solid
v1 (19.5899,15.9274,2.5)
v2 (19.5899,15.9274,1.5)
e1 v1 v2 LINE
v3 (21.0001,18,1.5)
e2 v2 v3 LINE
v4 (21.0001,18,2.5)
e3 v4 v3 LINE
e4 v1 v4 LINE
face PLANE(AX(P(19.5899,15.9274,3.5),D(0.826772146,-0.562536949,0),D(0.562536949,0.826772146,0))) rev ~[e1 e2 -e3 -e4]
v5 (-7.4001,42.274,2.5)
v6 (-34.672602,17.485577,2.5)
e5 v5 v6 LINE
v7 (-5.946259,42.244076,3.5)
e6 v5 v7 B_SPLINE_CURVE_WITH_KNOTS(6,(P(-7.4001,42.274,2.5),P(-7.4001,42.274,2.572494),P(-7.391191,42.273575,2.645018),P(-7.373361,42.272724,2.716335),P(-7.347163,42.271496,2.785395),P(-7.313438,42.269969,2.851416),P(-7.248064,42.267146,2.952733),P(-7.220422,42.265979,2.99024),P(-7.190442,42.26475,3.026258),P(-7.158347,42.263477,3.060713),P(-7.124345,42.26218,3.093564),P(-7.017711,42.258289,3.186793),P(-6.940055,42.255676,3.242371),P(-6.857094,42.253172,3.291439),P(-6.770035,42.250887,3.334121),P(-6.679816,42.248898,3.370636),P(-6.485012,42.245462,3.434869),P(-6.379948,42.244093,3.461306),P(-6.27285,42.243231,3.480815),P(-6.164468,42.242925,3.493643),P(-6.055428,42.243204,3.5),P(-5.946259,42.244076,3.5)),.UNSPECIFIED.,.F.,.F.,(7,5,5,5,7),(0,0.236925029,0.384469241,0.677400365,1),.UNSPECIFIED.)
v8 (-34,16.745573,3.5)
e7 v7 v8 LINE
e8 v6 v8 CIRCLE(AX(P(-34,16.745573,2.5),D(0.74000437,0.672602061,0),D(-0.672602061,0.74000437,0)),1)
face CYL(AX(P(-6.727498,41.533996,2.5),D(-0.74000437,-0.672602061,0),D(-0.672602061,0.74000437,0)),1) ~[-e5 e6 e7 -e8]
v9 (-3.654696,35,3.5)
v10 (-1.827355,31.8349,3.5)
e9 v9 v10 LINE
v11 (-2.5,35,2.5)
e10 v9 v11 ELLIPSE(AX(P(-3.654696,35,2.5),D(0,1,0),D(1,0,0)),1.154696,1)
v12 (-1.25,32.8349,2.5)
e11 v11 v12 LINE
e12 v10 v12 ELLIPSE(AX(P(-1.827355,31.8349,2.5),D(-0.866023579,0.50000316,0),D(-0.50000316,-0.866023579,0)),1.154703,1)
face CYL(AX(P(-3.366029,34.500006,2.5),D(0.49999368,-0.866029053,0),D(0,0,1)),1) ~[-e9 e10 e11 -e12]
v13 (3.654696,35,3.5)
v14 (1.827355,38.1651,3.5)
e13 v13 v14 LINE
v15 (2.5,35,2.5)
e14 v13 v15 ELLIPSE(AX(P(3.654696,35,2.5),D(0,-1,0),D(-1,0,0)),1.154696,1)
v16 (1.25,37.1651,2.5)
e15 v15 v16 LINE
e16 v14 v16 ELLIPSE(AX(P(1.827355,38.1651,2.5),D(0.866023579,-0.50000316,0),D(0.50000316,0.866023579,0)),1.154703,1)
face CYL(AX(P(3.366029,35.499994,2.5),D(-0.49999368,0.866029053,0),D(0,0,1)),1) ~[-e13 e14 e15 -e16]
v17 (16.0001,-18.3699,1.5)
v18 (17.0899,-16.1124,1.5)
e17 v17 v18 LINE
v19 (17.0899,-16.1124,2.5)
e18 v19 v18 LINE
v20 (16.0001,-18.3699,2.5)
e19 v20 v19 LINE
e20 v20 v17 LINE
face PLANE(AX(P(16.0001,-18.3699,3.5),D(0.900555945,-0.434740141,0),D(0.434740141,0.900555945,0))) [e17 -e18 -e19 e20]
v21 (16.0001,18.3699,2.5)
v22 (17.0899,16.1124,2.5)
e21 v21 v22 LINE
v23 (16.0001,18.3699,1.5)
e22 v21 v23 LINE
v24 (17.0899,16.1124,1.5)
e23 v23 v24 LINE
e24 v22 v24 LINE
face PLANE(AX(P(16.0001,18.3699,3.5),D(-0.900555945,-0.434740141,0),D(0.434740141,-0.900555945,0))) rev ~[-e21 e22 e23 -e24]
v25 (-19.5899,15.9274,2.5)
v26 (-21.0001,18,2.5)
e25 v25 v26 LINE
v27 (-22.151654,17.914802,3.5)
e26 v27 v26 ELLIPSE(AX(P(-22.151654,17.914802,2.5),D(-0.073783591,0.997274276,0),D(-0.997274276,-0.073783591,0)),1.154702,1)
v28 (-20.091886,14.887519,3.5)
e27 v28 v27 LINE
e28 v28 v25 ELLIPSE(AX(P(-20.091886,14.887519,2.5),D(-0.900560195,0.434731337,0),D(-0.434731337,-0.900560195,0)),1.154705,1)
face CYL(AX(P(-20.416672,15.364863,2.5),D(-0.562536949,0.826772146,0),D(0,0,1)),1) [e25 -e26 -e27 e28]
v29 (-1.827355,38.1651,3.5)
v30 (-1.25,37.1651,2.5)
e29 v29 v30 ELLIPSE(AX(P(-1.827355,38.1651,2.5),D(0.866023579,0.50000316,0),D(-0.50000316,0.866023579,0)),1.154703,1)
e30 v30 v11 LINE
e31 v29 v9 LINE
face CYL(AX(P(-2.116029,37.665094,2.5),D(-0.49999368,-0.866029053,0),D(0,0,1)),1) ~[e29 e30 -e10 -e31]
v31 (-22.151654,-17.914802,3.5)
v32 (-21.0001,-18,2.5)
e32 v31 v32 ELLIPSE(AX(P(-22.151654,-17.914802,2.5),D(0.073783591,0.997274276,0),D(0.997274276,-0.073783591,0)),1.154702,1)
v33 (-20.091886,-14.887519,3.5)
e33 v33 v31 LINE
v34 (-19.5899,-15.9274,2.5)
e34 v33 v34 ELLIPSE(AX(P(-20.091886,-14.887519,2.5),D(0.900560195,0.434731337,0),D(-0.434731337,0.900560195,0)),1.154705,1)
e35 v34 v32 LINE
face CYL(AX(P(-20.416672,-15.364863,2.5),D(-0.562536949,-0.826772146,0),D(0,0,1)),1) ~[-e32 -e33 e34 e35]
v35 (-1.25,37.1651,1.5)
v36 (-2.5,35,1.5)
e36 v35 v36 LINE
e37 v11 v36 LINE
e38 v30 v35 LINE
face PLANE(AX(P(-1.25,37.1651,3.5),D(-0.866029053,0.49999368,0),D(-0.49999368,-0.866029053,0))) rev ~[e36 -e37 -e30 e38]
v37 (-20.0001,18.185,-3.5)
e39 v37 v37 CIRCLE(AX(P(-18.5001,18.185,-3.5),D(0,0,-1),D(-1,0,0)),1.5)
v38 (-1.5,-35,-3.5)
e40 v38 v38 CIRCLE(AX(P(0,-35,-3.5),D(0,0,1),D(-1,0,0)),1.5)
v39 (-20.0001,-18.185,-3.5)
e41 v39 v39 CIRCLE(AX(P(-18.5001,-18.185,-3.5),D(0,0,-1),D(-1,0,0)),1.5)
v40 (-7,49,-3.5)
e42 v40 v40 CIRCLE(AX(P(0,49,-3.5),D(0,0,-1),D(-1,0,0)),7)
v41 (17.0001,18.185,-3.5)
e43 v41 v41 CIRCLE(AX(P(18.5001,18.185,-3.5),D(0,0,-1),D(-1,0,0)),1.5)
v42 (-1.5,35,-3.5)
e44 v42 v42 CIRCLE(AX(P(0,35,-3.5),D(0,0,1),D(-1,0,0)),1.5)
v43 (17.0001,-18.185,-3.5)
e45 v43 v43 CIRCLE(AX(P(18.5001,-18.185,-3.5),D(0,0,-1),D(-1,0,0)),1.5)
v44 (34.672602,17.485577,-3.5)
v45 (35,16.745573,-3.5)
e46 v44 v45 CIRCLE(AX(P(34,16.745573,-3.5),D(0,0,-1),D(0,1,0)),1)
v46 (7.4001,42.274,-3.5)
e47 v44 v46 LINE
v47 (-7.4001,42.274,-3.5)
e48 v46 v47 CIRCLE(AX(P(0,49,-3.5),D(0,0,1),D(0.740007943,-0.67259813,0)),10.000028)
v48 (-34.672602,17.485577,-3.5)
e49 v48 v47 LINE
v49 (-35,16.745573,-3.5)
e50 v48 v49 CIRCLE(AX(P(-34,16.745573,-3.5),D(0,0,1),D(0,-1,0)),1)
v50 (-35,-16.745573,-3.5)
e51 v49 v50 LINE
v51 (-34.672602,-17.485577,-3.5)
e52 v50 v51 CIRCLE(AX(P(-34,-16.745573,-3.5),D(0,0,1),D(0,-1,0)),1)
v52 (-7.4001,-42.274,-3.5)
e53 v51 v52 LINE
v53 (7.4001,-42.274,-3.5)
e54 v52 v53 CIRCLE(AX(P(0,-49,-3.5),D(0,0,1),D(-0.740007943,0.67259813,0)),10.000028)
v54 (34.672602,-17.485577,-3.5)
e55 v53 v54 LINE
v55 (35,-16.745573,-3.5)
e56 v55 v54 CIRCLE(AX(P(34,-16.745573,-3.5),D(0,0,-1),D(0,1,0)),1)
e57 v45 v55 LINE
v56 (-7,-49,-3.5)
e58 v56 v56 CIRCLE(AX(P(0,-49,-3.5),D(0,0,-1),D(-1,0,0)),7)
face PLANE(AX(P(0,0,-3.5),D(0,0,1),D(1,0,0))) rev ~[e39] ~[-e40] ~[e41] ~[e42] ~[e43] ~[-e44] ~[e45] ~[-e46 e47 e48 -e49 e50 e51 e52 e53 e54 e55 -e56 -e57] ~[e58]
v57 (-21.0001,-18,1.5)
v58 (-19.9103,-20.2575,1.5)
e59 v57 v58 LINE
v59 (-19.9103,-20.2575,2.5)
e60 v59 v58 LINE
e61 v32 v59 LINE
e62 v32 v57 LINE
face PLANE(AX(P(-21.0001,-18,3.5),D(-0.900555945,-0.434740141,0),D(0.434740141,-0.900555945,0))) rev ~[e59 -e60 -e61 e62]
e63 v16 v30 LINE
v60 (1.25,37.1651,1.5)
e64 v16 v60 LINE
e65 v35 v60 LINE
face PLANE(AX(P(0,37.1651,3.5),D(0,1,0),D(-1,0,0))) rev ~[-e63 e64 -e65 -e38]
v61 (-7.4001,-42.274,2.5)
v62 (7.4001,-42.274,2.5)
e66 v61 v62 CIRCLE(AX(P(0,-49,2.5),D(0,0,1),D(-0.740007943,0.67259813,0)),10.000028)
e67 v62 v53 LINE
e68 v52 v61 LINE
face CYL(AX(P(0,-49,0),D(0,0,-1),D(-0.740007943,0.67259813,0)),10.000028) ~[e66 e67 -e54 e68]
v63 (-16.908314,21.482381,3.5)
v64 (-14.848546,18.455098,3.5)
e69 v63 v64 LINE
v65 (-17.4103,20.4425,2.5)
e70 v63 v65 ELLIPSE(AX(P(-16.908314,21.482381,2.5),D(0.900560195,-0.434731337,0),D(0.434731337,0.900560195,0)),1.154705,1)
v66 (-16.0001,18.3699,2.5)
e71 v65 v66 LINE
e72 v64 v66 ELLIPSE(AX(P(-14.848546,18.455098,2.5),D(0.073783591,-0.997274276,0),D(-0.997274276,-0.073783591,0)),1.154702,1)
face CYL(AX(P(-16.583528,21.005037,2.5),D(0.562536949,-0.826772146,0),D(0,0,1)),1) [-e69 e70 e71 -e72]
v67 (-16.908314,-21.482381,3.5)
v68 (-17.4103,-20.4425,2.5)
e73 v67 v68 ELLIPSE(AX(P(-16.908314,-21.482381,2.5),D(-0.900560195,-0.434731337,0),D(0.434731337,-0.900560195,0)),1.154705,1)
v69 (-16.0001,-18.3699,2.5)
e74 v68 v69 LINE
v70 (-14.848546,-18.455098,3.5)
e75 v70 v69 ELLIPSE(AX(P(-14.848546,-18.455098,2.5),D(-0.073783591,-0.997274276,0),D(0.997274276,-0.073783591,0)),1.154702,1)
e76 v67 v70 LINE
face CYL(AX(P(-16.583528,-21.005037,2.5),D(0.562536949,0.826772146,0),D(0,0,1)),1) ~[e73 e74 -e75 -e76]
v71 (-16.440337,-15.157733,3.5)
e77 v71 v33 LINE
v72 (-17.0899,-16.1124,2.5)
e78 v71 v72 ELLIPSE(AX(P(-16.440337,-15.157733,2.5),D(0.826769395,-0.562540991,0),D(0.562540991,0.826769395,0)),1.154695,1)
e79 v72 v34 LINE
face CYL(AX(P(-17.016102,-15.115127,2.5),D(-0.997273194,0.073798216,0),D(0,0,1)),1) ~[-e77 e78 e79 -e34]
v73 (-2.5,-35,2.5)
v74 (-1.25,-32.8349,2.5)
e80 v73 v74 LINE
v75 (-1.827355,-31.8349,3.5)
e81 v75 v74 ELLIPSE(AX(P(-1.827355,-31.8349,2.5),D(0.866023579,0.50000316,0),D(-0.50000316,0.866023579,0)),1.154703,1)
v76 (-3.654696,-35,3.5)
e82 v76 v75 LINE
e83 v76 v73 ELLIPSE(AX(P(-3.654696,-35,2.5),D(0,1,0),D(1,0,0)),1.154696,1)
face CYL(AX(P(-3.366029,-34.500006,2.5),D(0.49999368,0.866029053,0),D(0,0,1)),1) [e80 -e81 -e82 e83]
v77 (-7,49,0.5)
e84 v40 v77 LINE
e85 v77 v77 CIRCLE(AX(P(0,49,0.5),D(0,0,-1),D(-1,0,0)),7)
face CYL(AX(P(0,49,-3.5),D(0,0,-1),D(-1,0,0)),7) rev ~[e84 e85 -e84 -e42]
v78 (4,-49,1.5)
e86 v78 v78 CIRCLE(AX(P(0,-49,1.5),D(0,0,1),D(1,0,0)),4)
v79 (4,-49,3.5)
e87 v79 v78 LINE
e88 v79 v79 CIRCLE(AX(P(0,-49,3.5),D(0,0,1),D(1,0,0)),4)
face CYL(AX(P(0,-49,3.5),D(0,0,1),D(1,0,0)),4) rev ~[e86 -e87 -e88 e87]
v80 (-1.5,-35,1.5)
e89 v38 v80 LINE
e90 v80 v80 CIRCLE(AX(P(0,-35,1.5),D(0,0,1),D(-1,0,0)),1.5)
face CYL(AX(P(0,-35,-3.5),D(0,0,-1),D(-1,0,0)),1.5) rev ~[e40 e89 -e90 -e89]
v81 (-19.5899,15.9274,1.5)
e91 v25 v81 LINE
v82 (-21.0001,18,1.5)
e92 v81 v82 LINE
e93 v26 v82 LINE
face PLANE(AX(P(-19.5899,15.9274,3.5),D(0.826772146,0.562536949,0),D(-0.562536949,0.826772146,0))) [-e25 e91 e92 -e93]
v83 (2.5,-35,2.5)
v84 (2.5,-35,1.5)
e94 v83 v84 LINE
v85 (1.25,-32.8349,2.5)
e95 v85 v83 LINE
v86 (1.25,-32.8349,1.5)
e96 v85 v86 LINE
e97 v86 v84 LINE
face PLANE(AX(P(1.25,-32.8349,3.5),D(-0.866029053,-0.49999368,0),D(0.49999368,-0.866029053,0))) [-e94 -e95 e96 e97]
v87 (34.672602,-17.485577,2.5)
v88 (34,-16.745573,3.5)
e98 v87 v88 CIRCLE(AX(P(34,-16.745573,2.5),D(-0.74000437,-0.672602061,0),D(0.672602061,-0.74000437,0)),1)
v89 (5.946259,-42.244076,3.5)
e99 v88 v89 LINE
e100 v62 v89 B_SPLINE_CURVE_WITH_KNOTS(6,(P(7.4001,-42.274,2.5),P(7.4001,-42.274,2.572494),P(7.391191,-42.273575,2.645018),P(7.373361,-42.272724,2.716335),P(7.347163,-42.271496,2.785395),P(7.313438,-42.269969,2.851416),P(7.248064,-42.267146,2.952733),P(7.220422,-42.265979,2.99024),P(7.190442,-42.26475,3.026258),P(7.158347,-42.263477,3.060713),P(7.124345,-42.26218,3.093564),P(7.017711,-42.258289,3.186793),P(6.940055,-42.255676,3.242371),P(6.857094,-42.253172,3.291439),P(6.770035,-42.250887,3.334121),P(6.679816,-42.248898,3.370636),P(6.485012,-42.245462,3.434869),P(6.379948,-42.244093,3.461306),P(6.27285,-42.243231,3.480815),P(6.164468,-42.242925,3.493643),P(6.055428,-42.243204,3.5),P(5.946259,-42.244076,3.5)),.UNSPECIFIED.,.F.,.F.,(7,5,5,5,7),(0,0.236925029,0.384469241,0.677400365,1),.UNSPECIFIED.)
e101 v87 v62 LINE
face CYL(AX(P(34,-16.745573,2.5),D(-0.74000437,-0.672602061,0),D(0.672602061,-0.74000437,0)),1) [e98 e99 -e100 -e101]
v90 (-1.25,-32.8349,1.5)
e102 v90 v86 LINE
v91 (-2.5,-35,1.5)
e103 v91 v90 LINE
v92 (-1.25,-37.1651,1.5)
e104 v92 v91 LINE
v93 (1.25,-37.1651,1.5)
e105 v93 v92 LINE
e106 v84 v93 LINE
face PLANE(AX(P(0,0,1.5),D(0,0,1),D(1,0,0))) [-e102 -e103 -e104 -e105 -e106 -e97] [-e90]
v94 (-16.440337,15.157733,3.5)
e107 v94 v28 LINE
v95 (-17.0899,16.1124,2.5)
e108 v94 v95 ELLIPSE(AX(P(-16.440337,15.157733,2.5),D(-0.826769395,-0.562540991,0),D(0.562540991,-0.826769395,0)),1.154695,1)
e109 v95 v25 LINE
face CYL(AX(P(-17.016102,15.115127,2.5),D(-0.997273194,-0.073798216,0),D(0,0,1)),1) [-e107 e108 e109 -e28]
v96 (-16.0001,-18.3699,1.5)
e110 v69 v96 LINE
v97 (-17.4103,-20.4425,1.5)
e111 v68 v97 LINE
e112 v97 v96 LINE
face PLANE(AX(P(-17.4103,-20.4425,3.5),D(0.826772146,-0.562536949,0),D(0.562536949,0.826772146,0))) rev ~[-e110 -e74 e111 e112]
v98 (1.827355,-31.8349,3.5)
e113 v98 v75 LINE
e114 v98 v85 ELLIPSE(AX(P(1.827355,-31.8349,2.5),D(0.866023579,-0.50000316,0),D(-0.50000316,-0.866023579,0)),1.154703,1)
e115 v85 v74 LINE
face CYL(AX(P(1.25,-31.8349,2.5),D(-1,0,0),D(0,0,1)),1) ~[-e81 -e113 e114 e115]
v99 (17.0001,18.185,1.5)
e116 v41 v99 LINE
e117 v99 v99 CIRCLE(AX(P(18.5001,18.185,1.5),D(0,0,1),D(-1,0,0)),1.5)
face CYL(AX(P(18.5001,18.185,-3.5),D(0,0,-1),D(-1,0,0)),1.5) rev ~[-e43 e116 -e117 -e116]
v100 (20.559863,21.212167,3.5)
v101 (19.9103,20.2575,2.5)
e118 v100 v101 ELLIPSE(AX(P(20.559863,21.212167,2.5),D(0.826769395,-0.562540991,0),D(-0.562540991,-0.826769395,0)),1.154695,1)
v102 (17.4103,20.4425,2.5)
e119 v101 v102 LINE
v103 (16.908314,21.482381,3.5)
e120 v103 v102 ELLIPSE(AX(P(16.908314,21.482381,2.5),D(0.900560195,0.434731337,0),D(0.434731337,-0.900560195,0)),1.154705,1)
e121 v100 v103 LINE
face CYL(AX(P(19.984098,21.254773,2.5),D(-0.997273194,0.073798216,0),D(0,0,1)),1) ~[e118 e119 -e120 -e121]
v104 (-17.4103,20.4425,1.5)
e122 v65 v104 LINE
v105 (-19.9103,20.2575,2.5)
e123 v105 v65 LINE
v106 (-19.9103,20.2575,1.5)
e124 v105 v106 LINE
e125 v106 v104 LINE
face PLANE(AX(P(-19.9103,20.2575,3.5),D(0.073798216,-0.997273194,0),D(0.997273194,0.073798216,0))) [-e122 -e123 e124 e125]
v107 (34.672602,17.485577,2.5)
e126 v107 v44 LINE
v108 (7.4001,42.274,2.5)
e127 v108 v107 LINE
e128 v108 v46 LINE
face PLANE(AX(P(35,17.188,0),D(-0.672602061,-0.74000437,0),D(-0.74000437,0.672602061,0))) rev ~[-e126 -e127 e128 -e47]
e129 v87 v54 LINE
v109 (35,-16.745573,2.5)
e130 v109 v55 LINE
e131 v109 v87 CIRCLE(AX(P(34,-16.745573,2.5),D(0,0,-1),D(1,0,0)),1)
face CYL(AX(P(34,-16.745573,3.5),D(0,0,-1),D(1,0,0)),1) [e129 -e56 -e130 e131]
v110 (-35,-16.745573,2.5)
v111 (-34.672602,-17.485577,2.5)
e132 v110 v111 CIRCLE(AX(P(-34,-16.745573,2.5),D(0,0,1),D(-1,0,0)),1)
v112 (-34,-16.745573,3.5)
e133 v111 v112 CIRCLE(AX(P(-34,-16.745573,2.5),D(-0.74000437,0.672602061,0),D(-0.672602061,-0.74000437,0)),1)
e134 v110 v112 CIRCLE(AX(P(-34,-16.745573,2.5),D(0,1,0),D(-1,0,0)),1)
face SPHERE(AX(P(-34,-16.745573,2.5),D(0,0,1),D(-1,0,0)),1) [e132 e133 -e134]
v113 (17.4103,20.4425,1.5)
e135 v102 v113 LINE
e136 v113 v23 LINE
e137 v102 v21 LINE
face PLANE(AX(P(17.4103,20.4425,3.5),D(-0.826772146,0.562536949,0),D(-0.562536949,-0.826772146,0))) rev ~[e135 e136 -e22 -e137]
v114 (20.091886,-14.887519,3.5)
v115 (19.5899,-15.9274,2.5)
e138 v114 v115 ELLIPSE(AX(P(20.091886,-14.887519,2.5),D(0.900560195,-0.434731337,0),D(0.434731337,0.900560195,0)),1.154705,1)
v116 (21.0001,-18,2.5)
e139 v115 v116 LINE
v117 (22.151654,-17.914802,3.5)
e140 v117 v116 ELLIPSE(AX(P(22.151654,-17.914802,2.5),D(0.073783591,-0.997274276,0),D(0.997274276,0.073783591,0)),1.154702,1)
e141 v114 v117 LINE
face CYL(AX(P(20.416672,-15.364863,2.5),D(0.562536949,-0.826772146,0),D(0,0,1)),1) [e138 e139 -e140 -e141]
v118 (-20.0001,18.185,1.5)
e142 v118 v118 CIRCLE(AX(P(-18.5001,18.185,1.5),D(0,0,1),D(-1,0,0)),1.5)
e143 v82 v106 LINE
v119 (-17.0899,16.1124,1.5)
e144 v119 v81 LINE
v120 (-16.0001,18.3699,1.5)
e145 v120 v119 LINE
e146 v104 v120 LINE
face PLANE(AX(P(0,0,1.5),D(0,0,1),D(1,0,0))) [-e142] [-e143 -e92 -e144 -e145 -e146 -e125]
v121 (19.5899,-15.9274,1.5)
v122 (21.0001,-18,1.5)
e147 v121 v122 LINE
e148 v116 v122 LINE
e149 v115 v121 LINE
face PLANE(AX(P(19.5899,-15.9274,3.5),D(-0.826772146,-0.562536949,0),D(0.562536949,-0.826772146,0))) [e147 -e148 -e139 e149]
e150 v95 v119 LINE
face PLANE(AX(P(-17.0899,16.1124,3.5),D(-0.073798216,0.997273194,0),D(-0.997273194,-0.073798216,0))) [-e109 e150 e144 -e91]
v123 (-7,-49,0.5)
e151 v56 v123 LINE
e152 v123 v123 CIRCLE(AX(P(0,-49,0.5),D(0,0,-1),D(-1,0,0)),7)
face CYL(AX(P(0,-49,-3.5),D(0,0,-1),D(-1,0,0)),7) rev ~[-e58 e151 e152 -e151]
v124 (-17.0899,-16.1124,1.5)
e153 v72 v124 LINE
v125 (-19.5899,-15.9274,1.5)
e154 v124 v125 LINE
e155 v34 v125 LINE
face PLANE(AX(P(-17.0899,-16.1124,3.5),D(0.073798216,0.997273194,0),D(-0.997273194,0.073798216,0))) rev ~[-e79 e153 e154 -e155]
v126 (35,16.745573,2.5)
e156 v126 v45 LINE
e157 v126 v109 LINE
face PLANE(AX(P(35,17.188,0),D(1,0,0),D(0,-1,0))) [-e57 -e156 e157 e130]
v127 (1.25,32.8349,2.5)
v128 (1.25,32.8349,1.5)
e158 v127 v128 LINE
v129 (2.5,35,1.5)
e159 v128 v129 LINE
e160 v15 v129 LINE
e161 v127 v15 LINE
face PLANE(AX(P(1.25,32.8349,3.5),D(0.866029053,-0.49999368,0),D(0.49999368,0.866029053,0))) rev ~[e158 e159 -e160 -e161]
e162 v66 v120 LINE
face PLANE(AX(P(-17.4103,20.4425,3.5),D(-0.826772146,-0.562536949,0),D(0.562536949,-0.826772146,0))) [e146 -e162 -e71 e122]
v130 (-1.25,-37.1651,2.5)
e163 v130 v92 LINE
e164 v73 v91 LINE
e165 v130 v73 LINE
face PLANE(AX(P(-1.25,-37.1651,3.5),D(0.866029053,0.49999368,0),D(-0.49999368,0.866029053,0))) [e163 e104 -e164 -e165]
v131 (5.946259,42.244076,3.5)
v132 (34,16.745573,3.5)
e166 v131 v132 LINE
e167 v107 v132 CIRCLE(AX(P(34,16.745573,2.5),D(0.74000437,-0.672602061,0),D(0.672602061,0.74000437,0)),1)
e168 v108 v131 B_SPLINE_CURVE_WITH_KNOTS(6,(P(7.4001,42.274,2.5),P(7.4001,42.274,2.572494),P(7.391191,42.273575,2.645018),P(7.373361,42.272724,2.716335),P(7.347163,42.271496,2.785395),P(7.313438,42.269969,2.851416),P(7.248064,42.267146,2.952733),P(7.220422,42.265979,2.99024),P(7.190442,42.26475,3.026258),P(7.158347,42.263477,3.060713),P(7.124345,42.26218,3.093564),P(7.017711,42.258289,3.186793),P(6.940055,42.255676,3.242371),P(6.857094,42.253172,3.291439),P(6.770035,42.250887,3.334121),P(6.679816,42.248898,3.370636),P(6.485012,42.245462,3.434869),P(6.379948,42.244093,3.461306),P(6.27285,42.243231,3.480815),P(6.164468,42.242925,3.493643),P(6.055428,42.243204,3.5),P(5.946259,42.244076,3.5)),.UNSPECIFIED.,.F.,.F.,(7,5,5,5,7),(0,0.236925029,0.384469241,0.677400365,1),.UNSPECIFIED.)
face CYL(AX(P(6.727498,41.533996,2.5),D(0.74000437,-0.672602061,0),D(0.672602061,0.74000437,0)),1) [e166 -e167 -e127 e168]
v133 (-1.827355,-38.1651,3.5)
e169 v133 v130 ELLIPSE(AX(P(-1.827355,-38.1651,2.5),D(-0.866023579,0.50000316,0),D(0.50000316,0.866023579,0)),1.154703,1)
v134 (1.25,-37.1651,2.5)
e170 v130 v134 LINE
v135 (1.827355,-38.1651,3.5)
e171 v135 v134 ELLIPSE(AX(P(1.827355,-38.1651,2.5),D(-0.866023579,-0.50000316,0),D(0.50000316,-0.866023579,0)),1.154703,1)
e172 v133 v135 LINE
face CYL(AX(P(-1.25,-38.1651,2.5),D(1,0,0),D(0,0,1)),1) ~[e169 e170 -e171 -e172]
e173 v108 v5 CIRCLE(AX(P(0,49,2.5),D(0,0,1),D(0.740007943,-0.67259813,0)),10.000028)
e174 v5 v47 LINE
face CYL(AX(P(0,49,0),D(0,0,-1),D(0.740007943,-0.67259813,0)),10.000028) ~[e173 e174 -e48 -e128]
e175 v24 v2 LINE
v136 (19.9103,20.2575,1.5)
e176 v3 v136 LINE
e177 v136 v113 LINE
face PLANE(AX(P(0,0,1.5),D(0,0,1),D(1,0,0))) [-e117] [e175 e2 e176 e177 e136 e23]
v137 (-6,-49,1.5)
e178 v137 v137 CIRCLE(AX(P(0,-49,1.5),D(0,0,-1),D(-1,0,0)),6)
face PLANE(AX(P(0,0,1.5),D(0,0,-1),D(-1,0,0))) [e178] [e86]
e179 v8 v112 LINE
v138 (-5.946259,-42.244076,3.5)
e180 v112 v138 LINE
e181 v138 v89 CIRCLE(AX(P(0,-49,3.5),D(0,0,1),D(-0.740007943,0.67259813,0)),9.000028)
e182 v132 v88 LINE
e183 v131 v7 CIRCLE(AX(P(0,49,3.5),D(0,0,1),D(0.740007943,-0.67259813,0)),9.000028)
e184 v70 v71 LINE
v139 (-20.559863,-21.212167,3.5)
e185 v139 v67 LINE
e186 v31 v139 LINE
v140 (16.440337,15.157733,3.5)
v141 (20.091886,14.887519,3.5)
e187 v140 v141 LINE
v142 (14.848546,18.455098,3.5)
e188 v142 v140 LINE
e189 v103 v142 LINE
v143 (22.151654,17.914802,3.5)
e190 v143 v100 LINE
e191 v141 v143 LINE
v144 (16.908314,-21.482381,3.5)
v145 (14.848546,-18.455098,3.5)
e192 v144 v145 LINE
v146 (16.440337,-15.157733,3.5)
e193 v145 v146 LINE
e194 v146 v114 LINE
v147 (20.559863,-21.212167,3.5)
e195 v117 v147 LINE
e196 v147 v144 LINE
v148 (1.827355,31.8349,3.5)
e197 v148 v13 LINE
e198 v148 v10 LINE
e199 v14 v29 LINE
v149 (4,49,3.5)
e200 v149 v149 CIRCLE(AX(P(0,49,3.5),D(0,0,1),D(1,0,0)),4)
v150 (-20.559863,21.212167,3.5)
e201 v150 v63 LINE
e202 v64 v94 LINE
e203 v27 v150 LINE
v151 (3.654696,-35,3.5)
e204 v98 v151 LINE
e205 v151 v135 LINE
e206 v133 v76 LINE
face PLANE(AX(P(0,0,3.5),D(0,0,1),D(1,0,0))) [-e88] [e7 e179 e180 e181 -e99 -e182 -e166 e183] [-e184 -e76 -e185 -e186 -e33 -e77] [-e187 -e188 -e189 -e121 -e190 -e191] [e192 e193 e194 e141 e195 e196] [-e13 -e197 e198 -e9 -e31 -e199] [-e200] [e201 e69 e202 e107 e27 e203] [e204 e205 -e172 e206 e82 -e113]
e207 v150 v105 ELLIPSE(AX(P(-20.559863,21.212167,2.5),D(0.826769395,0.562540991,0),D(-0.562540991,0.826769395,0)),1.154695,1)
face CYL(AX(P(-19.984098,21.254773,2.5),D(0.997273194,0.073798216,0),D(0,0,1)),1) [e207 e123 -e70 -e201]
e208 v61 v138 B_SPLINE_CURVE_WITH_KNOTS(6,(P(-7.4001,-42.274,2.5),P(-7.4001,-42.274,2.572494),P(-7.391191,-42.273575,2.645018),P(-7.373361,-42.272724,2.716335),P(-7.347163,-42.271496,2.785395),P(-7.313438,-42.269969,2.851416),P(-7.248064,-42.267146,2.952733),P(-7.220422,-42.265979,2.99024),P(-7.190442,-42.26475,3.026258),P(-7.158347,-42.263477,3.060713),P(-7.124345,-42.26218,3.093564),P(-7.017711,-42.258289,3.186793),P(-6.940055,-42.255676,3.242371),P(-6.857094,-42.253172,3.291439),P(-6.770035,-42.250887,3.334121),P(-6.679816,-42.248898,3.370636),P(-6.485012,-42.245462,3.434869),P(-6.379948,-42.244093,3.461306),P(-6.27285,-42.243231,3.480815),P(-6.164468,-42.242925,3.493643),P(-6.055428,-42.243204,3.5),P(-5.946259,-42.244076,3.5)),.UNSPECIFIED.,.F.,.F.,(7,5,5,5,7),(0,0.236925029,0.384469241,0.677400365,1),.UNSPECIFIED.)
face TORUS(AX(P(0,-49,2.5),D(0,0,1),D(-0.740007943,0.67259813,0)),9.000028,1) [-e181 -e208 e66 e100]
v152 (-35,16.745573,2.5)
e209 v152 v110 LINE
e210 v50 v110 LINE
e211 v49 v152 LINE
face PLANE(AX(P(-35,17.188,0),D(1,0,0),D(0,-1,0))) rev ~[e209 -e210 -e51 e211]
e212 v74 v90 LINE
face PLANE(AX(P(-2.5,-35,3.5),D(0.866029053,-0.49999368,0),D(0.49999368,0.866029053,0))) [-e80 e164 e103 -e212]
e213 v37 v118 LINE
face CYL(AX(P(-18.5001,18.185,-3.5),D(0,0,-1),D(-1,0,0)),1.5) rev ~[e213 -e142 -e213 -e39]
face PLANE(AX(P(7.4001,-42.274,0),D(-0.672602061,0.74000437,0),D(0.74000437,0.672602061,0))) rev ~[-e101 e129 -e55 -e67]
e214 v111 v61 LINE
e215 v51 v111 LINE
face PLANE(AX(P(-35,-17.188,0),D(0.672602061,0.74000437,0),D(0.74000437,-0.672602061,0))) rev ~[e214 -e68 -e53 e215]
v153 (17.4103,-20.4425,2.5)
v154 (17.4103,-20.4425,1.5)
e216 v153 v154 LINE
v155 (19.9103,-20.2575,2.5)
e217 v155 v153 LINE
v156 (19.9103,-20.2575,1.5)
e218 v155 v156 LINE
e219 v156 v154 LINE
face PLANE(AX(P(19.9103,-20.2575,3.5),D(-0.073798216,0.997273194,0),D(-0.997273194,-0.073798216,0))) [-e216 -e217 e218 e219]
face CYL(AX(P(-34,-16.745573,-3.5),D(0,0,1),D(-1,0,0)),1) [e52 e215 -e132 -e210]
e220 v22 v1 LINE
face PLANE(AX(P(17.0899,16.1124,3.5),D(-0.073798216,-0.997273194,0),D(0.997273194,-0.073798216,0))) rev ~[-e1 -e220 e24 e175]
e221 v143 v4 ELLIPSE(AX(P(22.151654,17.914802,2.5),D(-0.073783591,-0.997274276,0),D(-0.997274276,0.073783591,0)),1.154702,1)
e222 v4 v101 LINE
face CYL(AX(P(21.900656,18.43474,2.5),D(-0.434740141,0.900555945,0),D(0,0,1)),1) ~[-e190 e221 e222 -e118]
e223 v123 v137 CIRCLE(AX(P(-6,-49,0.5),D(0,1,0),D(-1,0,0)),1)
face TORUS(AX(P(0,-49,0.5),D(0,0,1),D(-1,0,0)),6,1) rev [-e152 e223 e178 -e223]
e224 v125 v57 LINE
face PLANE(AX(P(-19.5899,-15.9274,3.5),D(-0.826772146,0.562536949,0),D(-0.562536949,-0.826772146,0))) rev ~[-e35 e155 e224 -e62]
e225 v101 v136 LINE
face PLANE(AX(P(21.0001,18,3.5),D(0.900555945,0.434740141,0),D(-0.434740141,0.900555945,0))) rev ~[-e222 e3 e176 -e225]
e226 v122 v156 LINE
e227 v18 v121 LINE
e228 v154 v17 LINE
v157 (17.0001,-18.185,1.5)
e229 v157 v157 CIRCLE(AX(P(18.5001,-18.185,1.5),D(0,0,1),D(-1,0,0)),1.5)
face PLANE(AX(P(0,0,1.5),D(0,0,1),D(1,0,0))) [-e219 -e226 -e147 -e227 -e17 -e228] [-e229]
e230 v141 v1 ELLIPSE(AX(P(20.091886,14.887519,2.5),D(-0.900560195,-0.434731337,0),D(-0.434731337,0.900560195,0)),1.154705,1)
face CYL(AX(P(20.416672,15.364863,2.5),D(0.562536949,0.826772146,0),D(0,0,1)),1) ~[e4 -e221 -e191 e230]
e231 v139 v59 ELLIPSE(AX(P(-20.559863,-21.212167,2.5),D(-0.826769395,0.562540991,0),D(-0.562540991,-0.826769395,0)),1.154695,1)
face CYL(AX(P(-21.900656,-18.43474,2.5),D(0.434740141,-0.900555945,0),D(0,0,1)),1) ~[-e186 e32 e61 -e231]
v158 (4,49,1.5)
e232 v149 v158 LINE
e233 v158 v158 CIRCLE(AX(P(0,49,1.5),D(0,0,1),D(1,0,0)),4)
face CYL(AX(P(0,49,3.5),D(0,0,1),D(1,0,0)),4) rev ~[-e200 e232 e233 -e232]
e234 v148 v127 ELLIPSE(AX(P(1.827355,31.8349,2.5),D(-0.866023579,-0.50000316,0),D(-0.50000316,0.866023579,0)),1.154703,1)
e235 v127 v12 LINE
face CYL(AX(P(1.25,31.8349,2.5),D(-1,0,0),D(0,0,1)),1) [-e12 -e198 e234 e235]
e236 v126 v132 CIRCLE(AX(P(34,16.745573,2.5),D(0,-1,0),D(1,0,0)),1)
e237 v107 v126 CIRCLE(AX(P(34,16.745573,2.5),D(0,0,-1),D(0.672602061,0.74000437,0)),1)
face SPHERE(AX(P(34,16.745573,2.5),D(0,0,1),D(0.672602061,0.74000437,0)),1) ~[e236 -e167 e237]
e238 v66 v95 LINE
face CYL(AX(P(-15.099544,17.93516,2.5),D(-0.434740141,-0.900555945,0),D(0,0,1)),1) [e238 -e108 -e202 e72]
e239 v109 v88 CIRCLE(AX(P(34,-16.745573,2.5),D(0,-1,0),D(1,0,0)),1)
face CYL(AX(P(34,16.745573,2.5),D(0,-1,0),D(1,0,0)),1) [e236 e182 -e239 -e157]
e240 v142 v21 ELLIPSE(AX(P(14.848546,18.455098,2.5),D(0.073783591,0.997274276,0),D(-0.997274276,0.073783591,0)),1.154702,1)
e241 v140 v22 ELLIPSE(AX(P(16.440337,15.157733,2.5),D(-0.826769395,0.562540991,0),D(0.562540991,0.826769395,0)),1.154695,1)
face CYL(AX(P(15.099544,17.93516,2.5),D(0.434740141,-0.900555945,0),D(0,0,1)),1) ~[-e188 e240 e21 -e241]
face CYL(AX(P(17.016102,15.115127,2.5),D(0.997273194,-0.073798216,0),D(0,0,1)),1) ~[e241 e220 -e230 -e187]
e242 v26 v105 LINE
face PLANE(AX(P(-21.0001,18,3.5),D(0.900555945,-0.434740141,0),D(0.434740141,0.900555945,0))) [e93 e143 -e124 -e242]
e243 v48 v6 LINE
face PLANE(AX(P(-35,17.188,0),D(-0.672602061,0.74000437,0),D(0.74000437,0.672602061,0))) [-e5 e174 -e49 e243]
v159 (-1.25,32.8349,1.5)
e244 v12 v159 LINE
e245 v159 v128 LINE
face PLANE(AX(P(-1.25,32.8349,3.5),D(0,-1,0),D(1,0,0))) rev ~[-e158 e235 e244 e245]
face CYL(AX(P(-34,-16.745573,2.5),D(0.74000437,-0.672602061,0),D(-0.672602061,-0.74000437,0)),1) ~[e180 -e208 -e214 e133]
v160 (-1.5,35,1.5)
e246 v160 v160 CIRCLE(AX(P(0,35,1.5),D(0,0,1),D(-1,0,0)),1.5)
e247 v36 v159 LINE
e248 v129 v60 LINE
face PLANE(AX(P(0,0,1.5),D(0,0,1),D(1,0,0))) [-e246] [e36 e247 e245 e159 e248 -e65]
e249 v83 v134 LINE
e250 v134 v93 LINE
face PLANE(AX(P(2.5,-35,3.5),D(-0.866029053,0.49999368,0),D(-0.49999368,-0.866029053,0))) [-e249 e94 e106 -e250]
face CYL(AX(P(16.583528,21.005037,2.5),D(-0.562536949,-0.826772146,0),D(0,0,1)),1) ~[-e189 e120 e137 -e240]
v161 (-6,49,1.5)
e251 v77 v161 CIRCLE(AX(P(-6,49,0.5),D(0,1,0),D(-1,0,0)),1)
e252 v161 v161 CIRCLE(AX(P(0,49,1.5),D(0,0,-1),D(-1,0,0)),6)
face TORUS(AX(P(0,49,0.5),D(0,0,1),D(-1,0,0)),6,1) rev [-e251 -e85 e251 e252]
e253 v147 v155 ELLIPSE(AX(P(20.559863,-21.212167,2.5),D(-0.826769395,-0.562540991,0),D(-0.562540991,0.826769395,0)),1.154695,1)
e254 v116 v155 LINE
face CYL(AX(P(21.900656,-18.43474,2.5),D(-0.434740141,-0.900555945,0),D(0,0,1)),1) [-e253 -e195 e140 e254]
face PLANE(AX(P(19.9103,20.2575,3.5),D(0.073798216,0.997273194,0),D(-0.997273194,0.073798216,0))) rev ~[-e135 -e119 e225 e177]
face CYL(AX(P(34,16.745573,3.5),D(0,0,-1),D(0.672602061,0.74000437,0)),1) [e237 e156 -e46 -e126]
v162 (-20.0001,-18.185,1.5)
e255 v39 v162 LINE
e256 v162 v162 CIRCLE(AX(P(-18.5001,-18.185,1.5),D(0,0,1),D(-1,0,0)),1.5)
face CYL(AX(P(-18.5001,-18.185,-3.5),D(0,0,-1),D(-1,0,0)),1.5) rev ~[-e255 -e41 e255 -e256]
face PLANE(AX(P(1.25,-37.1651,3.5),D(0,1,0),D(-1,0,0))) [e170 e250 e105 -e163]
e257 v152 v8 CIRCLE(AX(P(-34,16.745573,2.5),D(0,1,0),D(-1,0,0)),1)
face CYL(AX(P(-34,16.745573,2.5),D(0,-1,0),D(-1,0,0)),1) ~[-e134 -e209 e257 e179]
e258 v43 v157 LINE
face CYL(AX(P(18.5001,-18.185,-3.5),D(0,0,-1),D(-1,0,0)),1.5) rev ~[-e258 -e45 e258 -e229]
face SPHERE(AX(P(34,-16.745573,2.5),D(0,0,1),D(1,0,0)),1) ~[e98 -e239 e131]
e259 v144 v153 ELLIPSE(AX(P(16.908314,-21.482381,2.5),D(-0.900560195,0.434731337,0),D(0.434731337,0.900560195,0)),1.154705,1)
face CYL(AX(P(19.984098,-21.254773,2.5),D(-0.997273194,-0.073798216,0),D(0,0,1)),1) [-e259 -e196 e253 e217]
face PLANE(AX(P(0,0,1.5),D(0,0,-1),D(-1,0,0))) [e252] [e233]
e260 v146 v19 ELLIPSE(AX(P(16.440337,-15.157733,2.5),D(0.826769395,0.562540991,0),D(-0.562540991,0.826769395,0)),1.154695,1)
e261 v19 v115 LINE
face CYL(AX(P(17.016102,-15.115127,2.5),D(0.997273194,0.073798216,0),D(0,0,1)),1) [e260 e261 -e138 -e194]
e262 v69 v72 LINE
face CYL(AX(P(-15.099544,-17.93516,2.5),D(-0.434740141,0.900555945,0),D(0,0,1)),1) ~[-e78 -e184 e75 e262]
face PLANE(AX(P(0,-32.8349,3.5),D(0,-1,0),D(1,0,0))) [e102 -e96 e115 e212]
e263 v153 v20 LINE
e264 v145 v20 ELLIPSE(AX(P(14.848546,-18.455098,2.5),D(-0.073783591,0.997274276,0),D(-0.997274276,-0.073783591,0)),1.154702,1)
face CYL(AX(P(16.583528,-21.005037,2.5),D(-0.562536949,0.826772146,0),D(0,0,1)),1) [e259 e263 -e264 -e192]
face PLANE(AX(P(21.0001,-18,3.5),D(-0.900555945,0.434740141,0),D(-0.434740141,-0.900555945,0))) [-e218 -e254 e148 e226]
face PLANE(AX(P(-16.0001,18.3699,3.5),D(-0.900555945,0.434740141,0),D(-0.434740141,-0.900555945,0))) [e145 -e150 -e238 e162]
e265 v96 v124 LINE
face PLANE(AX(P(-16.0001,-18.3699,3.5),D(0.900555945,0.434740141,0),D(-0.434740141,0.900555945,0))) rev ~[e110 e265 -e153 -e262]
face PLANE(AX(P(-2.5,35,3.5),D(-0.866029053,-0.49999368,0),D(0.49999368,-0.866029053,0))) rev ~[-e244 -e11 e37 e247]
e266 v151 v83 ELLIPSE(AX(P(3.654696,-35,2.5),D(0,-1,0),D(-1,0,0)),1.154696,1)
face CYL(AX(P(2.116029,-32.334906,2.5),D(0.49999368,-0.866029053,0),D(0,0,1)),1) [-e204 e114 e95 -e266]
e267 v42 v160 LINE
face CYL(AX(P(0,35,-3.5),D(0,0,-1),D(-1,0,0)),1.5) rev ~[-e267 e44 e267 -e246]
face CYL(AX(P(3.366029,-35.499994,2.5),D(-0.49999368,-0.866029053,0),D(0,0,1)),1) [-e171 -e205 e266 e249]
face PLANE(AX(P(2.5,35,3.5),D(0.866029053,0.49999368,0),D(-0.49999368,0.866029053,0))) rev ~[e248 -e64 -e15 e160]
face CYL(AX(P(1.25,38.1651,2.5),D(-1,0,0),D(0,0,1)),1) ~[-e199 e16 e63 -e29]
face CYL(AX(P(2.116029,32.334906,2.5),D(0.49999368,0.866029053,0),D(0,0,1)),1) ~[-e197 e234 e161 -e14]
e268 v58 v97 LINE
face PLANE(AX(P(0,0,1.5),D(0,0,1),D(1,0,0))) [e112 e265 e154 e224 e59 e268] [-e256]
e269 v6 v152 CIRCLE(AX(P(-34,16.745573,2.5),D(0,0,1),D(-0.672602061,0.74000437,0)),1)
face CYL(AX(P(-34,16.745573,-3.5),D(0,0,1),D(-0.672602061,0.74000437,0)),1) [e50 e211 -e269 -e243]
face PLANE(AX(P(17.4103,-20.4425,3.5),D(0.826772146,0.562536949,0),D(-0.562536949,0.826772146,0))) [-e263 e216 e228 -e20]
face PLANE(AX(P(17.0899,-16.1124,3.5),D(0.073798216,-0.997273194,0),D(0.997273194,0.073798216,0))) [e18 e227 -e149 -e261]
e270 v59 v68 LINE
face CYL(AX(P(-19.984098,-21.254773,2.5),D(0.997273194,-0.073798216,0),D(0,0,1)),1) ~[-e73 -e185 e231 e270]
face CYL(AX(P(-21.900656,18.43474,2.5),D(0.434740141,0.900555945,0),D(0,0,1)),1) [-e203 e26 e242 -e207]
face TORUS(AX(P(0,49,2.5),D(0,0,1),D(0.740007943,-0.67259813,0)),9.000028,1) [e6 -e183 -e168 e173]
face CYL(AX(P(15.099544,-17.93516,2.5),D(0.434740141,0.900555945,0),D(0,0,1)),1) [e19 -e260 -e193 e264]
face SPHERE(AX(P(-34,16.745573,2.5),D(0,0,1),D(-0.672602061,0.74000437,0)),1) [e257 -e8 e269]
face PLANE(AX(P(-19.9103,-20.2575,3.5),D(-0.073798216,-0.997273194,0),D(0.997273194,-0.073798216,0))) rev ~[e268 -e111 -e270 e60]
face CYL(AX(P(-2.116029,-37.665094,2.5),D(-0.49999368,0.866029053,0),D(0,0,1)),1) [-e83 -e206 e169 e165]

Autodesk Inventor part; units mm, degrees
sketch "Skizze1" plane through (0, 0, 0) normal (0, 0, 1) x (1, 0, 0)
  line L0 (-35, 17.188) -> (-35, -17.188)
  line L1 (35, 17.188) -> (35, -17.188)
  line L2 (-35, 17.188) -> (-7.4001, 42.274)
  line L3 (35, 17.188) -> (7.4001, 42.274)
  line L4 (-35, -17.188) -> (-7.4001, -42.274)
  line L5 (7.4001, -42.274) -> (35, -17.188)
  arc A0 (-7.4001, -42.274) -> (7.4001, -42.274) centre (0, -49) ccw
  arc A1 (7.4001, 42.274) -> (-7.4001, 42.274) centre (0, 49) ccw
  point P0 (0, 0)
  dimension "d2" = 34.376
  dimension "d3" = 20
  dimension "d4" = 20
extrude "Extrusion1" add sketch "Skizze1" along normal mid plane 7
sketch "Skizze2" plane through (0, 0, -3.5) normal (0, 0, -1) x (-1, 0, 0)
  arc A0 (-7.4001, -42.274) -> (7.4001, -42.274) centre (0, -49) ccw projected
  arc A1 (7.4001, 42.274) -> (-7.4001, 42.274) centre (0, 49) ccw projected
  circle A2 centre (0, 49) radius 7
  circle A3 centre (0, -49) radius 7
  point P0 (0, 0)
  dimension "d7" = 14
  dimension "d8" = 14
extrude "Extrusion2" cut sketch "Skizze2" against normal blind 5
sketch "Skizze3" plane through (0, 0, -3.5) normal (0, 0, -1) x (-1, 0, 0)
  circle A0 centre (0, 49) radius 7 projected
  circle A1 centre (0, 35) radius 1.5
  line L0 (35, 17.188) -> (7.4001, 42.274) projected
  circle A2 centre (18.5001, 18.185) radius 1.5
  line L1 (49, 0) -> (-49, 0) projected
  circle A3 centre (0, -35) radius 1.5
  circle A4 centre (18.5001, -18.185) radius 1.5
  line L2 (0, -82.6) -> (0, 82.6) projected
  circle A5 centre (-18.5001, 18.185) radius 1.5
  circle A6 centre (-18.5001, -18.185) radius 1.5
  point P0 (0, 0)
  dimension "d11" = 3
  dimension "d14" = 25
extrude "Extrusion3" cut sketch "Skizze3" against normal blind 7 contours A3 L2 | L2 A3 | A1 L2 | L2 A1 | A2 | A4
thread "Gewinde1" size "M3x0.5" class "6H" standard "ANSI Metric M Profile" full length
thread "Gewinde2" size "M3x0.5" class "6H" standard "ANSI Metric M Profile" full length
thread "Gewinde3" size "M3x0.5" class "6H" standard "ANSI Metric M Profile" full length
thread "Gewinde4" size "M3x0.5" class "6H" standard "ANSI Metric M Profile" full length
sketch "Skizze4" plane through (0, 0, 3.5) normal (0, 0, 1) x (1, 0, 0)
  circle A0 centre (0, 49) radius 7 projected
  circle A1 centre (0, -49) radius 7 projected
  circle A2 centre (0, 49) radius 4
  circle A3 centre (0, -49) radius 4
  point P0 (0, 0)
  dimension "d29" = 8
  dimension "d30" = 8
extrude "Extrusion4" cut sketch "Skizze4" against normal blind 2 contours A2 | A3
fillet "Rundung1" radius 1 1 edges at (7, 49, 1.5)
fillet "Rundung2" radius 1 1 edges at (7, -49, 1.5)
fillet "Rundung4" radius 1 4 edges at (35, 17.188, 0) (35, -17.188, 0) (-35, -17.188, 0) (-35, 17.188, 0)
extrude "Extrusion5" cut sketch "Skizze3" against normal blind 7 contours A5 | A6
thread "Gewinde5" size "M3x0.5" class "6H" standard "ANSI Metric M Profile" full length
thread "Gewinde6" size "M3x0.5" class "6H" standard "ANSI Metric M Profile" full length
sketch "Skizze5" plane through (0, 0, 3.5) normal (0, 0, 1) x (1, 0, 0)
  circle A0 centre (-18.5001, -18.185) radius 1.5 projected
  circle A1 centre (0, -35) radius 1.5 projected
  circle A2 centre (18.5001, -18.185) radius 1.5 projected
  circle A3 centre (18.5001, 18.185) radius 1.5 projected
  circle A4 centre (0, 35) radius 1.5 projected
  circle A5 centre (-18.5001, 18.185) radius 1.5 projected
  line L0 (-21.0001, 18) -> (-19.9103, 20.2575)
  line L1 (-19.9103, 20.2575) -> (-17.4103, 20.4425)
  line L2 (-17.4103, 20.4425) -> (-16.0001, 18.3699)
  line L3 (-16.0001, 18.3699) -> (-17.0899, 16.1124)
  line L4 (-17.0899, 16.1124) -> (-19.5899, 15.9274)
  line L5 (-19.5899, 15.9274) -> (-21.0001, 18)
  line L6 (-49, 0) -> (49, 0) projected
  line L7 (0, 82.6) -> (0, -82.6) projected
  line L8 (21.0001, 18) -> (19.9103, 20.2575)
  line L9 (19.9103, 20.2575) -> (17.4103, 20.4425)
  line L10 (17.4103, 20.4425) -> (16.0001, 18.3699)
  line L11 (16.0001, 18.3699) -> (17.0899, 16.1124)
  line L12 (17.0899, 16.1124) -> (19.5899, 15.9274)
  line L13 (19.5899, 15.9274) -> (21.0001, 18)
  line L14 (-21.0001, -18) -> (-19.9103, -20.2575)
  line L15 (-19.9103, -20.2575) -> (-17.4103, -20.4425)
  line L16 (-17.4103, -20.4425) -> (-16.0001, -18.3699)
  line L17 (-16.0001, -18.3699) -> (-17.0899, -16.1124)
  line L18 (-17.0899, -16.1124) -> (-19.5899, -15.9274)
  line L19 (-19.5899, -15.9274) -> (-21.0001, -18)
  line L20 (21.0001, -18) -> (19.9103, -20.2575)
  line L21 (19.5899, -15.9274) -> (21.0001, -18)
  line L22 (17.0899, -16.1124) -> (19.5899, -15.9274)
  line L23 (16.0001, -18.3699) -> (17.0899, -16.1124)
  line L24 (17.4103, -20.4425) -> (16.0001, -18.3699)
  line L25 (19.9103, -20.2575) -> (17.4103, -20.4425)
  line L26 (-2.5, -35) -> (-1.25, -32.8349)
  line L27 (-1.25, -32.8349) -> (1.25, -32.8349)
  line L28 (1.25, -32.8349) -> (2.5, -35)
  line L29 (2.5, -35) -> (1.25, -37.1651)
  line L30 (1.25, -37.1651) -> (-1.25, -37.1651)
  line L31 (-1.25, -37.1651) -> (-2.5, -35)
  line L32 (-2.5, 35) -> (-1.25, 32.8349)
  line L33 (-1.25, 32.8349) -> (1.25, 32.8349)
  line L34 (1.25, 32.8349) -> (2.5, 35)
  line L35 (2.5, 35) -> (1.25, 37.1651)
  line L36 (1.25, 37.1651) -> (-1.25, 37.1651)
  line L37 (-1.25, 37.1651) -> (-2.5, 35)
  point P0 (0, 0)
extrude "Extrusion6" cut sketch "Skizze5" against normal blind 2 contours A1 L7 L27 L28 L29 L30 | A1 L7 L30 L31 L26 L27 | L33 L32 L37 L36 L7 A4 | L7 A4 L36 L35 L34 L33 | L0 L1 L2 L3 L4 L5 | L13 L12 L11 L10 L9 L8 | L19 L18 L17 L16 L15 L14 | L20 L25 L24 L23 L22 L21
fillet "Rundung5" radius 1 12 edges at (0, 59, 3.5) (0, -59, 3.5) (-34.9145, -17.1502, 3.5) (-35, 0, 3.5) (-34.9145, 17.1502, 3.5) (-21.0363, 29.8798, 3.5) (-21.0363, -29.8798, 3.5) (34.9145, -17.1502, 3.5) (35, 0, 3.5) (34.9145, 17.1502, 3.5) (21.0363, 29.8798, 3.5) (21.0363, -29.8798, 3.5)
fillet "Rundung6" radius 1 35 edges at (1.875, 36.0825, 3.5) (0, 37.1651, 3.5) (-1.875, 33.9175, 3.5) (-1.875, 36.0825, 3.5) (0, 32.8349, 3.5) (1.875, 33.9175, 3.5) (16.7052, 19.4062, 3.5) (18.6603, 20.35, 3.5) (20.4552, 19.1288, 3.5) (20.295, 16.9637, 3.5) (18.3399, 16.0199, 3.5) (16.545, 17.2412, 3.5) (-16.545, 17.2412, 3.5) (-18.3399, 16.0199, 3.5) (-20.295, 16.9637, 3.5) (-20.4552, 19.1288, 3.5) (-18.6603, 20.35, 3.5) (-16.7052, 19.4062, 3.5) (-20.4552, -19.1288, 3.5) (-18.6603, -20.35, 3.5) (-16.7052, -19.4062, 3.5) (-16.545, -17.2412, 3.5) (-18.3399, -16.0199, 3.5) (-20.295, -16.9637, 3.5) (-1.875, -33.9175, 3.5) (-1.875, -36.0825, 3.5) (0, -37.1651, 3.5) (1.875, -36.0825, 3.5) (1.875, -33.9175, 3.5) (0, -32.8349, 3.5) (16.7052, -19.4062, 3.5) (16.545, -17.2412, 3.5) (18.3399, -16.0199, 3.5) (20.295, -16.9637, 3.5) (18.6603, -20.35, 3.5)
fillet "Rundung6" radius 1 1 edges at (20.4552, -19.1288, 3.5)
properties part number "ChassisOberTeil"
